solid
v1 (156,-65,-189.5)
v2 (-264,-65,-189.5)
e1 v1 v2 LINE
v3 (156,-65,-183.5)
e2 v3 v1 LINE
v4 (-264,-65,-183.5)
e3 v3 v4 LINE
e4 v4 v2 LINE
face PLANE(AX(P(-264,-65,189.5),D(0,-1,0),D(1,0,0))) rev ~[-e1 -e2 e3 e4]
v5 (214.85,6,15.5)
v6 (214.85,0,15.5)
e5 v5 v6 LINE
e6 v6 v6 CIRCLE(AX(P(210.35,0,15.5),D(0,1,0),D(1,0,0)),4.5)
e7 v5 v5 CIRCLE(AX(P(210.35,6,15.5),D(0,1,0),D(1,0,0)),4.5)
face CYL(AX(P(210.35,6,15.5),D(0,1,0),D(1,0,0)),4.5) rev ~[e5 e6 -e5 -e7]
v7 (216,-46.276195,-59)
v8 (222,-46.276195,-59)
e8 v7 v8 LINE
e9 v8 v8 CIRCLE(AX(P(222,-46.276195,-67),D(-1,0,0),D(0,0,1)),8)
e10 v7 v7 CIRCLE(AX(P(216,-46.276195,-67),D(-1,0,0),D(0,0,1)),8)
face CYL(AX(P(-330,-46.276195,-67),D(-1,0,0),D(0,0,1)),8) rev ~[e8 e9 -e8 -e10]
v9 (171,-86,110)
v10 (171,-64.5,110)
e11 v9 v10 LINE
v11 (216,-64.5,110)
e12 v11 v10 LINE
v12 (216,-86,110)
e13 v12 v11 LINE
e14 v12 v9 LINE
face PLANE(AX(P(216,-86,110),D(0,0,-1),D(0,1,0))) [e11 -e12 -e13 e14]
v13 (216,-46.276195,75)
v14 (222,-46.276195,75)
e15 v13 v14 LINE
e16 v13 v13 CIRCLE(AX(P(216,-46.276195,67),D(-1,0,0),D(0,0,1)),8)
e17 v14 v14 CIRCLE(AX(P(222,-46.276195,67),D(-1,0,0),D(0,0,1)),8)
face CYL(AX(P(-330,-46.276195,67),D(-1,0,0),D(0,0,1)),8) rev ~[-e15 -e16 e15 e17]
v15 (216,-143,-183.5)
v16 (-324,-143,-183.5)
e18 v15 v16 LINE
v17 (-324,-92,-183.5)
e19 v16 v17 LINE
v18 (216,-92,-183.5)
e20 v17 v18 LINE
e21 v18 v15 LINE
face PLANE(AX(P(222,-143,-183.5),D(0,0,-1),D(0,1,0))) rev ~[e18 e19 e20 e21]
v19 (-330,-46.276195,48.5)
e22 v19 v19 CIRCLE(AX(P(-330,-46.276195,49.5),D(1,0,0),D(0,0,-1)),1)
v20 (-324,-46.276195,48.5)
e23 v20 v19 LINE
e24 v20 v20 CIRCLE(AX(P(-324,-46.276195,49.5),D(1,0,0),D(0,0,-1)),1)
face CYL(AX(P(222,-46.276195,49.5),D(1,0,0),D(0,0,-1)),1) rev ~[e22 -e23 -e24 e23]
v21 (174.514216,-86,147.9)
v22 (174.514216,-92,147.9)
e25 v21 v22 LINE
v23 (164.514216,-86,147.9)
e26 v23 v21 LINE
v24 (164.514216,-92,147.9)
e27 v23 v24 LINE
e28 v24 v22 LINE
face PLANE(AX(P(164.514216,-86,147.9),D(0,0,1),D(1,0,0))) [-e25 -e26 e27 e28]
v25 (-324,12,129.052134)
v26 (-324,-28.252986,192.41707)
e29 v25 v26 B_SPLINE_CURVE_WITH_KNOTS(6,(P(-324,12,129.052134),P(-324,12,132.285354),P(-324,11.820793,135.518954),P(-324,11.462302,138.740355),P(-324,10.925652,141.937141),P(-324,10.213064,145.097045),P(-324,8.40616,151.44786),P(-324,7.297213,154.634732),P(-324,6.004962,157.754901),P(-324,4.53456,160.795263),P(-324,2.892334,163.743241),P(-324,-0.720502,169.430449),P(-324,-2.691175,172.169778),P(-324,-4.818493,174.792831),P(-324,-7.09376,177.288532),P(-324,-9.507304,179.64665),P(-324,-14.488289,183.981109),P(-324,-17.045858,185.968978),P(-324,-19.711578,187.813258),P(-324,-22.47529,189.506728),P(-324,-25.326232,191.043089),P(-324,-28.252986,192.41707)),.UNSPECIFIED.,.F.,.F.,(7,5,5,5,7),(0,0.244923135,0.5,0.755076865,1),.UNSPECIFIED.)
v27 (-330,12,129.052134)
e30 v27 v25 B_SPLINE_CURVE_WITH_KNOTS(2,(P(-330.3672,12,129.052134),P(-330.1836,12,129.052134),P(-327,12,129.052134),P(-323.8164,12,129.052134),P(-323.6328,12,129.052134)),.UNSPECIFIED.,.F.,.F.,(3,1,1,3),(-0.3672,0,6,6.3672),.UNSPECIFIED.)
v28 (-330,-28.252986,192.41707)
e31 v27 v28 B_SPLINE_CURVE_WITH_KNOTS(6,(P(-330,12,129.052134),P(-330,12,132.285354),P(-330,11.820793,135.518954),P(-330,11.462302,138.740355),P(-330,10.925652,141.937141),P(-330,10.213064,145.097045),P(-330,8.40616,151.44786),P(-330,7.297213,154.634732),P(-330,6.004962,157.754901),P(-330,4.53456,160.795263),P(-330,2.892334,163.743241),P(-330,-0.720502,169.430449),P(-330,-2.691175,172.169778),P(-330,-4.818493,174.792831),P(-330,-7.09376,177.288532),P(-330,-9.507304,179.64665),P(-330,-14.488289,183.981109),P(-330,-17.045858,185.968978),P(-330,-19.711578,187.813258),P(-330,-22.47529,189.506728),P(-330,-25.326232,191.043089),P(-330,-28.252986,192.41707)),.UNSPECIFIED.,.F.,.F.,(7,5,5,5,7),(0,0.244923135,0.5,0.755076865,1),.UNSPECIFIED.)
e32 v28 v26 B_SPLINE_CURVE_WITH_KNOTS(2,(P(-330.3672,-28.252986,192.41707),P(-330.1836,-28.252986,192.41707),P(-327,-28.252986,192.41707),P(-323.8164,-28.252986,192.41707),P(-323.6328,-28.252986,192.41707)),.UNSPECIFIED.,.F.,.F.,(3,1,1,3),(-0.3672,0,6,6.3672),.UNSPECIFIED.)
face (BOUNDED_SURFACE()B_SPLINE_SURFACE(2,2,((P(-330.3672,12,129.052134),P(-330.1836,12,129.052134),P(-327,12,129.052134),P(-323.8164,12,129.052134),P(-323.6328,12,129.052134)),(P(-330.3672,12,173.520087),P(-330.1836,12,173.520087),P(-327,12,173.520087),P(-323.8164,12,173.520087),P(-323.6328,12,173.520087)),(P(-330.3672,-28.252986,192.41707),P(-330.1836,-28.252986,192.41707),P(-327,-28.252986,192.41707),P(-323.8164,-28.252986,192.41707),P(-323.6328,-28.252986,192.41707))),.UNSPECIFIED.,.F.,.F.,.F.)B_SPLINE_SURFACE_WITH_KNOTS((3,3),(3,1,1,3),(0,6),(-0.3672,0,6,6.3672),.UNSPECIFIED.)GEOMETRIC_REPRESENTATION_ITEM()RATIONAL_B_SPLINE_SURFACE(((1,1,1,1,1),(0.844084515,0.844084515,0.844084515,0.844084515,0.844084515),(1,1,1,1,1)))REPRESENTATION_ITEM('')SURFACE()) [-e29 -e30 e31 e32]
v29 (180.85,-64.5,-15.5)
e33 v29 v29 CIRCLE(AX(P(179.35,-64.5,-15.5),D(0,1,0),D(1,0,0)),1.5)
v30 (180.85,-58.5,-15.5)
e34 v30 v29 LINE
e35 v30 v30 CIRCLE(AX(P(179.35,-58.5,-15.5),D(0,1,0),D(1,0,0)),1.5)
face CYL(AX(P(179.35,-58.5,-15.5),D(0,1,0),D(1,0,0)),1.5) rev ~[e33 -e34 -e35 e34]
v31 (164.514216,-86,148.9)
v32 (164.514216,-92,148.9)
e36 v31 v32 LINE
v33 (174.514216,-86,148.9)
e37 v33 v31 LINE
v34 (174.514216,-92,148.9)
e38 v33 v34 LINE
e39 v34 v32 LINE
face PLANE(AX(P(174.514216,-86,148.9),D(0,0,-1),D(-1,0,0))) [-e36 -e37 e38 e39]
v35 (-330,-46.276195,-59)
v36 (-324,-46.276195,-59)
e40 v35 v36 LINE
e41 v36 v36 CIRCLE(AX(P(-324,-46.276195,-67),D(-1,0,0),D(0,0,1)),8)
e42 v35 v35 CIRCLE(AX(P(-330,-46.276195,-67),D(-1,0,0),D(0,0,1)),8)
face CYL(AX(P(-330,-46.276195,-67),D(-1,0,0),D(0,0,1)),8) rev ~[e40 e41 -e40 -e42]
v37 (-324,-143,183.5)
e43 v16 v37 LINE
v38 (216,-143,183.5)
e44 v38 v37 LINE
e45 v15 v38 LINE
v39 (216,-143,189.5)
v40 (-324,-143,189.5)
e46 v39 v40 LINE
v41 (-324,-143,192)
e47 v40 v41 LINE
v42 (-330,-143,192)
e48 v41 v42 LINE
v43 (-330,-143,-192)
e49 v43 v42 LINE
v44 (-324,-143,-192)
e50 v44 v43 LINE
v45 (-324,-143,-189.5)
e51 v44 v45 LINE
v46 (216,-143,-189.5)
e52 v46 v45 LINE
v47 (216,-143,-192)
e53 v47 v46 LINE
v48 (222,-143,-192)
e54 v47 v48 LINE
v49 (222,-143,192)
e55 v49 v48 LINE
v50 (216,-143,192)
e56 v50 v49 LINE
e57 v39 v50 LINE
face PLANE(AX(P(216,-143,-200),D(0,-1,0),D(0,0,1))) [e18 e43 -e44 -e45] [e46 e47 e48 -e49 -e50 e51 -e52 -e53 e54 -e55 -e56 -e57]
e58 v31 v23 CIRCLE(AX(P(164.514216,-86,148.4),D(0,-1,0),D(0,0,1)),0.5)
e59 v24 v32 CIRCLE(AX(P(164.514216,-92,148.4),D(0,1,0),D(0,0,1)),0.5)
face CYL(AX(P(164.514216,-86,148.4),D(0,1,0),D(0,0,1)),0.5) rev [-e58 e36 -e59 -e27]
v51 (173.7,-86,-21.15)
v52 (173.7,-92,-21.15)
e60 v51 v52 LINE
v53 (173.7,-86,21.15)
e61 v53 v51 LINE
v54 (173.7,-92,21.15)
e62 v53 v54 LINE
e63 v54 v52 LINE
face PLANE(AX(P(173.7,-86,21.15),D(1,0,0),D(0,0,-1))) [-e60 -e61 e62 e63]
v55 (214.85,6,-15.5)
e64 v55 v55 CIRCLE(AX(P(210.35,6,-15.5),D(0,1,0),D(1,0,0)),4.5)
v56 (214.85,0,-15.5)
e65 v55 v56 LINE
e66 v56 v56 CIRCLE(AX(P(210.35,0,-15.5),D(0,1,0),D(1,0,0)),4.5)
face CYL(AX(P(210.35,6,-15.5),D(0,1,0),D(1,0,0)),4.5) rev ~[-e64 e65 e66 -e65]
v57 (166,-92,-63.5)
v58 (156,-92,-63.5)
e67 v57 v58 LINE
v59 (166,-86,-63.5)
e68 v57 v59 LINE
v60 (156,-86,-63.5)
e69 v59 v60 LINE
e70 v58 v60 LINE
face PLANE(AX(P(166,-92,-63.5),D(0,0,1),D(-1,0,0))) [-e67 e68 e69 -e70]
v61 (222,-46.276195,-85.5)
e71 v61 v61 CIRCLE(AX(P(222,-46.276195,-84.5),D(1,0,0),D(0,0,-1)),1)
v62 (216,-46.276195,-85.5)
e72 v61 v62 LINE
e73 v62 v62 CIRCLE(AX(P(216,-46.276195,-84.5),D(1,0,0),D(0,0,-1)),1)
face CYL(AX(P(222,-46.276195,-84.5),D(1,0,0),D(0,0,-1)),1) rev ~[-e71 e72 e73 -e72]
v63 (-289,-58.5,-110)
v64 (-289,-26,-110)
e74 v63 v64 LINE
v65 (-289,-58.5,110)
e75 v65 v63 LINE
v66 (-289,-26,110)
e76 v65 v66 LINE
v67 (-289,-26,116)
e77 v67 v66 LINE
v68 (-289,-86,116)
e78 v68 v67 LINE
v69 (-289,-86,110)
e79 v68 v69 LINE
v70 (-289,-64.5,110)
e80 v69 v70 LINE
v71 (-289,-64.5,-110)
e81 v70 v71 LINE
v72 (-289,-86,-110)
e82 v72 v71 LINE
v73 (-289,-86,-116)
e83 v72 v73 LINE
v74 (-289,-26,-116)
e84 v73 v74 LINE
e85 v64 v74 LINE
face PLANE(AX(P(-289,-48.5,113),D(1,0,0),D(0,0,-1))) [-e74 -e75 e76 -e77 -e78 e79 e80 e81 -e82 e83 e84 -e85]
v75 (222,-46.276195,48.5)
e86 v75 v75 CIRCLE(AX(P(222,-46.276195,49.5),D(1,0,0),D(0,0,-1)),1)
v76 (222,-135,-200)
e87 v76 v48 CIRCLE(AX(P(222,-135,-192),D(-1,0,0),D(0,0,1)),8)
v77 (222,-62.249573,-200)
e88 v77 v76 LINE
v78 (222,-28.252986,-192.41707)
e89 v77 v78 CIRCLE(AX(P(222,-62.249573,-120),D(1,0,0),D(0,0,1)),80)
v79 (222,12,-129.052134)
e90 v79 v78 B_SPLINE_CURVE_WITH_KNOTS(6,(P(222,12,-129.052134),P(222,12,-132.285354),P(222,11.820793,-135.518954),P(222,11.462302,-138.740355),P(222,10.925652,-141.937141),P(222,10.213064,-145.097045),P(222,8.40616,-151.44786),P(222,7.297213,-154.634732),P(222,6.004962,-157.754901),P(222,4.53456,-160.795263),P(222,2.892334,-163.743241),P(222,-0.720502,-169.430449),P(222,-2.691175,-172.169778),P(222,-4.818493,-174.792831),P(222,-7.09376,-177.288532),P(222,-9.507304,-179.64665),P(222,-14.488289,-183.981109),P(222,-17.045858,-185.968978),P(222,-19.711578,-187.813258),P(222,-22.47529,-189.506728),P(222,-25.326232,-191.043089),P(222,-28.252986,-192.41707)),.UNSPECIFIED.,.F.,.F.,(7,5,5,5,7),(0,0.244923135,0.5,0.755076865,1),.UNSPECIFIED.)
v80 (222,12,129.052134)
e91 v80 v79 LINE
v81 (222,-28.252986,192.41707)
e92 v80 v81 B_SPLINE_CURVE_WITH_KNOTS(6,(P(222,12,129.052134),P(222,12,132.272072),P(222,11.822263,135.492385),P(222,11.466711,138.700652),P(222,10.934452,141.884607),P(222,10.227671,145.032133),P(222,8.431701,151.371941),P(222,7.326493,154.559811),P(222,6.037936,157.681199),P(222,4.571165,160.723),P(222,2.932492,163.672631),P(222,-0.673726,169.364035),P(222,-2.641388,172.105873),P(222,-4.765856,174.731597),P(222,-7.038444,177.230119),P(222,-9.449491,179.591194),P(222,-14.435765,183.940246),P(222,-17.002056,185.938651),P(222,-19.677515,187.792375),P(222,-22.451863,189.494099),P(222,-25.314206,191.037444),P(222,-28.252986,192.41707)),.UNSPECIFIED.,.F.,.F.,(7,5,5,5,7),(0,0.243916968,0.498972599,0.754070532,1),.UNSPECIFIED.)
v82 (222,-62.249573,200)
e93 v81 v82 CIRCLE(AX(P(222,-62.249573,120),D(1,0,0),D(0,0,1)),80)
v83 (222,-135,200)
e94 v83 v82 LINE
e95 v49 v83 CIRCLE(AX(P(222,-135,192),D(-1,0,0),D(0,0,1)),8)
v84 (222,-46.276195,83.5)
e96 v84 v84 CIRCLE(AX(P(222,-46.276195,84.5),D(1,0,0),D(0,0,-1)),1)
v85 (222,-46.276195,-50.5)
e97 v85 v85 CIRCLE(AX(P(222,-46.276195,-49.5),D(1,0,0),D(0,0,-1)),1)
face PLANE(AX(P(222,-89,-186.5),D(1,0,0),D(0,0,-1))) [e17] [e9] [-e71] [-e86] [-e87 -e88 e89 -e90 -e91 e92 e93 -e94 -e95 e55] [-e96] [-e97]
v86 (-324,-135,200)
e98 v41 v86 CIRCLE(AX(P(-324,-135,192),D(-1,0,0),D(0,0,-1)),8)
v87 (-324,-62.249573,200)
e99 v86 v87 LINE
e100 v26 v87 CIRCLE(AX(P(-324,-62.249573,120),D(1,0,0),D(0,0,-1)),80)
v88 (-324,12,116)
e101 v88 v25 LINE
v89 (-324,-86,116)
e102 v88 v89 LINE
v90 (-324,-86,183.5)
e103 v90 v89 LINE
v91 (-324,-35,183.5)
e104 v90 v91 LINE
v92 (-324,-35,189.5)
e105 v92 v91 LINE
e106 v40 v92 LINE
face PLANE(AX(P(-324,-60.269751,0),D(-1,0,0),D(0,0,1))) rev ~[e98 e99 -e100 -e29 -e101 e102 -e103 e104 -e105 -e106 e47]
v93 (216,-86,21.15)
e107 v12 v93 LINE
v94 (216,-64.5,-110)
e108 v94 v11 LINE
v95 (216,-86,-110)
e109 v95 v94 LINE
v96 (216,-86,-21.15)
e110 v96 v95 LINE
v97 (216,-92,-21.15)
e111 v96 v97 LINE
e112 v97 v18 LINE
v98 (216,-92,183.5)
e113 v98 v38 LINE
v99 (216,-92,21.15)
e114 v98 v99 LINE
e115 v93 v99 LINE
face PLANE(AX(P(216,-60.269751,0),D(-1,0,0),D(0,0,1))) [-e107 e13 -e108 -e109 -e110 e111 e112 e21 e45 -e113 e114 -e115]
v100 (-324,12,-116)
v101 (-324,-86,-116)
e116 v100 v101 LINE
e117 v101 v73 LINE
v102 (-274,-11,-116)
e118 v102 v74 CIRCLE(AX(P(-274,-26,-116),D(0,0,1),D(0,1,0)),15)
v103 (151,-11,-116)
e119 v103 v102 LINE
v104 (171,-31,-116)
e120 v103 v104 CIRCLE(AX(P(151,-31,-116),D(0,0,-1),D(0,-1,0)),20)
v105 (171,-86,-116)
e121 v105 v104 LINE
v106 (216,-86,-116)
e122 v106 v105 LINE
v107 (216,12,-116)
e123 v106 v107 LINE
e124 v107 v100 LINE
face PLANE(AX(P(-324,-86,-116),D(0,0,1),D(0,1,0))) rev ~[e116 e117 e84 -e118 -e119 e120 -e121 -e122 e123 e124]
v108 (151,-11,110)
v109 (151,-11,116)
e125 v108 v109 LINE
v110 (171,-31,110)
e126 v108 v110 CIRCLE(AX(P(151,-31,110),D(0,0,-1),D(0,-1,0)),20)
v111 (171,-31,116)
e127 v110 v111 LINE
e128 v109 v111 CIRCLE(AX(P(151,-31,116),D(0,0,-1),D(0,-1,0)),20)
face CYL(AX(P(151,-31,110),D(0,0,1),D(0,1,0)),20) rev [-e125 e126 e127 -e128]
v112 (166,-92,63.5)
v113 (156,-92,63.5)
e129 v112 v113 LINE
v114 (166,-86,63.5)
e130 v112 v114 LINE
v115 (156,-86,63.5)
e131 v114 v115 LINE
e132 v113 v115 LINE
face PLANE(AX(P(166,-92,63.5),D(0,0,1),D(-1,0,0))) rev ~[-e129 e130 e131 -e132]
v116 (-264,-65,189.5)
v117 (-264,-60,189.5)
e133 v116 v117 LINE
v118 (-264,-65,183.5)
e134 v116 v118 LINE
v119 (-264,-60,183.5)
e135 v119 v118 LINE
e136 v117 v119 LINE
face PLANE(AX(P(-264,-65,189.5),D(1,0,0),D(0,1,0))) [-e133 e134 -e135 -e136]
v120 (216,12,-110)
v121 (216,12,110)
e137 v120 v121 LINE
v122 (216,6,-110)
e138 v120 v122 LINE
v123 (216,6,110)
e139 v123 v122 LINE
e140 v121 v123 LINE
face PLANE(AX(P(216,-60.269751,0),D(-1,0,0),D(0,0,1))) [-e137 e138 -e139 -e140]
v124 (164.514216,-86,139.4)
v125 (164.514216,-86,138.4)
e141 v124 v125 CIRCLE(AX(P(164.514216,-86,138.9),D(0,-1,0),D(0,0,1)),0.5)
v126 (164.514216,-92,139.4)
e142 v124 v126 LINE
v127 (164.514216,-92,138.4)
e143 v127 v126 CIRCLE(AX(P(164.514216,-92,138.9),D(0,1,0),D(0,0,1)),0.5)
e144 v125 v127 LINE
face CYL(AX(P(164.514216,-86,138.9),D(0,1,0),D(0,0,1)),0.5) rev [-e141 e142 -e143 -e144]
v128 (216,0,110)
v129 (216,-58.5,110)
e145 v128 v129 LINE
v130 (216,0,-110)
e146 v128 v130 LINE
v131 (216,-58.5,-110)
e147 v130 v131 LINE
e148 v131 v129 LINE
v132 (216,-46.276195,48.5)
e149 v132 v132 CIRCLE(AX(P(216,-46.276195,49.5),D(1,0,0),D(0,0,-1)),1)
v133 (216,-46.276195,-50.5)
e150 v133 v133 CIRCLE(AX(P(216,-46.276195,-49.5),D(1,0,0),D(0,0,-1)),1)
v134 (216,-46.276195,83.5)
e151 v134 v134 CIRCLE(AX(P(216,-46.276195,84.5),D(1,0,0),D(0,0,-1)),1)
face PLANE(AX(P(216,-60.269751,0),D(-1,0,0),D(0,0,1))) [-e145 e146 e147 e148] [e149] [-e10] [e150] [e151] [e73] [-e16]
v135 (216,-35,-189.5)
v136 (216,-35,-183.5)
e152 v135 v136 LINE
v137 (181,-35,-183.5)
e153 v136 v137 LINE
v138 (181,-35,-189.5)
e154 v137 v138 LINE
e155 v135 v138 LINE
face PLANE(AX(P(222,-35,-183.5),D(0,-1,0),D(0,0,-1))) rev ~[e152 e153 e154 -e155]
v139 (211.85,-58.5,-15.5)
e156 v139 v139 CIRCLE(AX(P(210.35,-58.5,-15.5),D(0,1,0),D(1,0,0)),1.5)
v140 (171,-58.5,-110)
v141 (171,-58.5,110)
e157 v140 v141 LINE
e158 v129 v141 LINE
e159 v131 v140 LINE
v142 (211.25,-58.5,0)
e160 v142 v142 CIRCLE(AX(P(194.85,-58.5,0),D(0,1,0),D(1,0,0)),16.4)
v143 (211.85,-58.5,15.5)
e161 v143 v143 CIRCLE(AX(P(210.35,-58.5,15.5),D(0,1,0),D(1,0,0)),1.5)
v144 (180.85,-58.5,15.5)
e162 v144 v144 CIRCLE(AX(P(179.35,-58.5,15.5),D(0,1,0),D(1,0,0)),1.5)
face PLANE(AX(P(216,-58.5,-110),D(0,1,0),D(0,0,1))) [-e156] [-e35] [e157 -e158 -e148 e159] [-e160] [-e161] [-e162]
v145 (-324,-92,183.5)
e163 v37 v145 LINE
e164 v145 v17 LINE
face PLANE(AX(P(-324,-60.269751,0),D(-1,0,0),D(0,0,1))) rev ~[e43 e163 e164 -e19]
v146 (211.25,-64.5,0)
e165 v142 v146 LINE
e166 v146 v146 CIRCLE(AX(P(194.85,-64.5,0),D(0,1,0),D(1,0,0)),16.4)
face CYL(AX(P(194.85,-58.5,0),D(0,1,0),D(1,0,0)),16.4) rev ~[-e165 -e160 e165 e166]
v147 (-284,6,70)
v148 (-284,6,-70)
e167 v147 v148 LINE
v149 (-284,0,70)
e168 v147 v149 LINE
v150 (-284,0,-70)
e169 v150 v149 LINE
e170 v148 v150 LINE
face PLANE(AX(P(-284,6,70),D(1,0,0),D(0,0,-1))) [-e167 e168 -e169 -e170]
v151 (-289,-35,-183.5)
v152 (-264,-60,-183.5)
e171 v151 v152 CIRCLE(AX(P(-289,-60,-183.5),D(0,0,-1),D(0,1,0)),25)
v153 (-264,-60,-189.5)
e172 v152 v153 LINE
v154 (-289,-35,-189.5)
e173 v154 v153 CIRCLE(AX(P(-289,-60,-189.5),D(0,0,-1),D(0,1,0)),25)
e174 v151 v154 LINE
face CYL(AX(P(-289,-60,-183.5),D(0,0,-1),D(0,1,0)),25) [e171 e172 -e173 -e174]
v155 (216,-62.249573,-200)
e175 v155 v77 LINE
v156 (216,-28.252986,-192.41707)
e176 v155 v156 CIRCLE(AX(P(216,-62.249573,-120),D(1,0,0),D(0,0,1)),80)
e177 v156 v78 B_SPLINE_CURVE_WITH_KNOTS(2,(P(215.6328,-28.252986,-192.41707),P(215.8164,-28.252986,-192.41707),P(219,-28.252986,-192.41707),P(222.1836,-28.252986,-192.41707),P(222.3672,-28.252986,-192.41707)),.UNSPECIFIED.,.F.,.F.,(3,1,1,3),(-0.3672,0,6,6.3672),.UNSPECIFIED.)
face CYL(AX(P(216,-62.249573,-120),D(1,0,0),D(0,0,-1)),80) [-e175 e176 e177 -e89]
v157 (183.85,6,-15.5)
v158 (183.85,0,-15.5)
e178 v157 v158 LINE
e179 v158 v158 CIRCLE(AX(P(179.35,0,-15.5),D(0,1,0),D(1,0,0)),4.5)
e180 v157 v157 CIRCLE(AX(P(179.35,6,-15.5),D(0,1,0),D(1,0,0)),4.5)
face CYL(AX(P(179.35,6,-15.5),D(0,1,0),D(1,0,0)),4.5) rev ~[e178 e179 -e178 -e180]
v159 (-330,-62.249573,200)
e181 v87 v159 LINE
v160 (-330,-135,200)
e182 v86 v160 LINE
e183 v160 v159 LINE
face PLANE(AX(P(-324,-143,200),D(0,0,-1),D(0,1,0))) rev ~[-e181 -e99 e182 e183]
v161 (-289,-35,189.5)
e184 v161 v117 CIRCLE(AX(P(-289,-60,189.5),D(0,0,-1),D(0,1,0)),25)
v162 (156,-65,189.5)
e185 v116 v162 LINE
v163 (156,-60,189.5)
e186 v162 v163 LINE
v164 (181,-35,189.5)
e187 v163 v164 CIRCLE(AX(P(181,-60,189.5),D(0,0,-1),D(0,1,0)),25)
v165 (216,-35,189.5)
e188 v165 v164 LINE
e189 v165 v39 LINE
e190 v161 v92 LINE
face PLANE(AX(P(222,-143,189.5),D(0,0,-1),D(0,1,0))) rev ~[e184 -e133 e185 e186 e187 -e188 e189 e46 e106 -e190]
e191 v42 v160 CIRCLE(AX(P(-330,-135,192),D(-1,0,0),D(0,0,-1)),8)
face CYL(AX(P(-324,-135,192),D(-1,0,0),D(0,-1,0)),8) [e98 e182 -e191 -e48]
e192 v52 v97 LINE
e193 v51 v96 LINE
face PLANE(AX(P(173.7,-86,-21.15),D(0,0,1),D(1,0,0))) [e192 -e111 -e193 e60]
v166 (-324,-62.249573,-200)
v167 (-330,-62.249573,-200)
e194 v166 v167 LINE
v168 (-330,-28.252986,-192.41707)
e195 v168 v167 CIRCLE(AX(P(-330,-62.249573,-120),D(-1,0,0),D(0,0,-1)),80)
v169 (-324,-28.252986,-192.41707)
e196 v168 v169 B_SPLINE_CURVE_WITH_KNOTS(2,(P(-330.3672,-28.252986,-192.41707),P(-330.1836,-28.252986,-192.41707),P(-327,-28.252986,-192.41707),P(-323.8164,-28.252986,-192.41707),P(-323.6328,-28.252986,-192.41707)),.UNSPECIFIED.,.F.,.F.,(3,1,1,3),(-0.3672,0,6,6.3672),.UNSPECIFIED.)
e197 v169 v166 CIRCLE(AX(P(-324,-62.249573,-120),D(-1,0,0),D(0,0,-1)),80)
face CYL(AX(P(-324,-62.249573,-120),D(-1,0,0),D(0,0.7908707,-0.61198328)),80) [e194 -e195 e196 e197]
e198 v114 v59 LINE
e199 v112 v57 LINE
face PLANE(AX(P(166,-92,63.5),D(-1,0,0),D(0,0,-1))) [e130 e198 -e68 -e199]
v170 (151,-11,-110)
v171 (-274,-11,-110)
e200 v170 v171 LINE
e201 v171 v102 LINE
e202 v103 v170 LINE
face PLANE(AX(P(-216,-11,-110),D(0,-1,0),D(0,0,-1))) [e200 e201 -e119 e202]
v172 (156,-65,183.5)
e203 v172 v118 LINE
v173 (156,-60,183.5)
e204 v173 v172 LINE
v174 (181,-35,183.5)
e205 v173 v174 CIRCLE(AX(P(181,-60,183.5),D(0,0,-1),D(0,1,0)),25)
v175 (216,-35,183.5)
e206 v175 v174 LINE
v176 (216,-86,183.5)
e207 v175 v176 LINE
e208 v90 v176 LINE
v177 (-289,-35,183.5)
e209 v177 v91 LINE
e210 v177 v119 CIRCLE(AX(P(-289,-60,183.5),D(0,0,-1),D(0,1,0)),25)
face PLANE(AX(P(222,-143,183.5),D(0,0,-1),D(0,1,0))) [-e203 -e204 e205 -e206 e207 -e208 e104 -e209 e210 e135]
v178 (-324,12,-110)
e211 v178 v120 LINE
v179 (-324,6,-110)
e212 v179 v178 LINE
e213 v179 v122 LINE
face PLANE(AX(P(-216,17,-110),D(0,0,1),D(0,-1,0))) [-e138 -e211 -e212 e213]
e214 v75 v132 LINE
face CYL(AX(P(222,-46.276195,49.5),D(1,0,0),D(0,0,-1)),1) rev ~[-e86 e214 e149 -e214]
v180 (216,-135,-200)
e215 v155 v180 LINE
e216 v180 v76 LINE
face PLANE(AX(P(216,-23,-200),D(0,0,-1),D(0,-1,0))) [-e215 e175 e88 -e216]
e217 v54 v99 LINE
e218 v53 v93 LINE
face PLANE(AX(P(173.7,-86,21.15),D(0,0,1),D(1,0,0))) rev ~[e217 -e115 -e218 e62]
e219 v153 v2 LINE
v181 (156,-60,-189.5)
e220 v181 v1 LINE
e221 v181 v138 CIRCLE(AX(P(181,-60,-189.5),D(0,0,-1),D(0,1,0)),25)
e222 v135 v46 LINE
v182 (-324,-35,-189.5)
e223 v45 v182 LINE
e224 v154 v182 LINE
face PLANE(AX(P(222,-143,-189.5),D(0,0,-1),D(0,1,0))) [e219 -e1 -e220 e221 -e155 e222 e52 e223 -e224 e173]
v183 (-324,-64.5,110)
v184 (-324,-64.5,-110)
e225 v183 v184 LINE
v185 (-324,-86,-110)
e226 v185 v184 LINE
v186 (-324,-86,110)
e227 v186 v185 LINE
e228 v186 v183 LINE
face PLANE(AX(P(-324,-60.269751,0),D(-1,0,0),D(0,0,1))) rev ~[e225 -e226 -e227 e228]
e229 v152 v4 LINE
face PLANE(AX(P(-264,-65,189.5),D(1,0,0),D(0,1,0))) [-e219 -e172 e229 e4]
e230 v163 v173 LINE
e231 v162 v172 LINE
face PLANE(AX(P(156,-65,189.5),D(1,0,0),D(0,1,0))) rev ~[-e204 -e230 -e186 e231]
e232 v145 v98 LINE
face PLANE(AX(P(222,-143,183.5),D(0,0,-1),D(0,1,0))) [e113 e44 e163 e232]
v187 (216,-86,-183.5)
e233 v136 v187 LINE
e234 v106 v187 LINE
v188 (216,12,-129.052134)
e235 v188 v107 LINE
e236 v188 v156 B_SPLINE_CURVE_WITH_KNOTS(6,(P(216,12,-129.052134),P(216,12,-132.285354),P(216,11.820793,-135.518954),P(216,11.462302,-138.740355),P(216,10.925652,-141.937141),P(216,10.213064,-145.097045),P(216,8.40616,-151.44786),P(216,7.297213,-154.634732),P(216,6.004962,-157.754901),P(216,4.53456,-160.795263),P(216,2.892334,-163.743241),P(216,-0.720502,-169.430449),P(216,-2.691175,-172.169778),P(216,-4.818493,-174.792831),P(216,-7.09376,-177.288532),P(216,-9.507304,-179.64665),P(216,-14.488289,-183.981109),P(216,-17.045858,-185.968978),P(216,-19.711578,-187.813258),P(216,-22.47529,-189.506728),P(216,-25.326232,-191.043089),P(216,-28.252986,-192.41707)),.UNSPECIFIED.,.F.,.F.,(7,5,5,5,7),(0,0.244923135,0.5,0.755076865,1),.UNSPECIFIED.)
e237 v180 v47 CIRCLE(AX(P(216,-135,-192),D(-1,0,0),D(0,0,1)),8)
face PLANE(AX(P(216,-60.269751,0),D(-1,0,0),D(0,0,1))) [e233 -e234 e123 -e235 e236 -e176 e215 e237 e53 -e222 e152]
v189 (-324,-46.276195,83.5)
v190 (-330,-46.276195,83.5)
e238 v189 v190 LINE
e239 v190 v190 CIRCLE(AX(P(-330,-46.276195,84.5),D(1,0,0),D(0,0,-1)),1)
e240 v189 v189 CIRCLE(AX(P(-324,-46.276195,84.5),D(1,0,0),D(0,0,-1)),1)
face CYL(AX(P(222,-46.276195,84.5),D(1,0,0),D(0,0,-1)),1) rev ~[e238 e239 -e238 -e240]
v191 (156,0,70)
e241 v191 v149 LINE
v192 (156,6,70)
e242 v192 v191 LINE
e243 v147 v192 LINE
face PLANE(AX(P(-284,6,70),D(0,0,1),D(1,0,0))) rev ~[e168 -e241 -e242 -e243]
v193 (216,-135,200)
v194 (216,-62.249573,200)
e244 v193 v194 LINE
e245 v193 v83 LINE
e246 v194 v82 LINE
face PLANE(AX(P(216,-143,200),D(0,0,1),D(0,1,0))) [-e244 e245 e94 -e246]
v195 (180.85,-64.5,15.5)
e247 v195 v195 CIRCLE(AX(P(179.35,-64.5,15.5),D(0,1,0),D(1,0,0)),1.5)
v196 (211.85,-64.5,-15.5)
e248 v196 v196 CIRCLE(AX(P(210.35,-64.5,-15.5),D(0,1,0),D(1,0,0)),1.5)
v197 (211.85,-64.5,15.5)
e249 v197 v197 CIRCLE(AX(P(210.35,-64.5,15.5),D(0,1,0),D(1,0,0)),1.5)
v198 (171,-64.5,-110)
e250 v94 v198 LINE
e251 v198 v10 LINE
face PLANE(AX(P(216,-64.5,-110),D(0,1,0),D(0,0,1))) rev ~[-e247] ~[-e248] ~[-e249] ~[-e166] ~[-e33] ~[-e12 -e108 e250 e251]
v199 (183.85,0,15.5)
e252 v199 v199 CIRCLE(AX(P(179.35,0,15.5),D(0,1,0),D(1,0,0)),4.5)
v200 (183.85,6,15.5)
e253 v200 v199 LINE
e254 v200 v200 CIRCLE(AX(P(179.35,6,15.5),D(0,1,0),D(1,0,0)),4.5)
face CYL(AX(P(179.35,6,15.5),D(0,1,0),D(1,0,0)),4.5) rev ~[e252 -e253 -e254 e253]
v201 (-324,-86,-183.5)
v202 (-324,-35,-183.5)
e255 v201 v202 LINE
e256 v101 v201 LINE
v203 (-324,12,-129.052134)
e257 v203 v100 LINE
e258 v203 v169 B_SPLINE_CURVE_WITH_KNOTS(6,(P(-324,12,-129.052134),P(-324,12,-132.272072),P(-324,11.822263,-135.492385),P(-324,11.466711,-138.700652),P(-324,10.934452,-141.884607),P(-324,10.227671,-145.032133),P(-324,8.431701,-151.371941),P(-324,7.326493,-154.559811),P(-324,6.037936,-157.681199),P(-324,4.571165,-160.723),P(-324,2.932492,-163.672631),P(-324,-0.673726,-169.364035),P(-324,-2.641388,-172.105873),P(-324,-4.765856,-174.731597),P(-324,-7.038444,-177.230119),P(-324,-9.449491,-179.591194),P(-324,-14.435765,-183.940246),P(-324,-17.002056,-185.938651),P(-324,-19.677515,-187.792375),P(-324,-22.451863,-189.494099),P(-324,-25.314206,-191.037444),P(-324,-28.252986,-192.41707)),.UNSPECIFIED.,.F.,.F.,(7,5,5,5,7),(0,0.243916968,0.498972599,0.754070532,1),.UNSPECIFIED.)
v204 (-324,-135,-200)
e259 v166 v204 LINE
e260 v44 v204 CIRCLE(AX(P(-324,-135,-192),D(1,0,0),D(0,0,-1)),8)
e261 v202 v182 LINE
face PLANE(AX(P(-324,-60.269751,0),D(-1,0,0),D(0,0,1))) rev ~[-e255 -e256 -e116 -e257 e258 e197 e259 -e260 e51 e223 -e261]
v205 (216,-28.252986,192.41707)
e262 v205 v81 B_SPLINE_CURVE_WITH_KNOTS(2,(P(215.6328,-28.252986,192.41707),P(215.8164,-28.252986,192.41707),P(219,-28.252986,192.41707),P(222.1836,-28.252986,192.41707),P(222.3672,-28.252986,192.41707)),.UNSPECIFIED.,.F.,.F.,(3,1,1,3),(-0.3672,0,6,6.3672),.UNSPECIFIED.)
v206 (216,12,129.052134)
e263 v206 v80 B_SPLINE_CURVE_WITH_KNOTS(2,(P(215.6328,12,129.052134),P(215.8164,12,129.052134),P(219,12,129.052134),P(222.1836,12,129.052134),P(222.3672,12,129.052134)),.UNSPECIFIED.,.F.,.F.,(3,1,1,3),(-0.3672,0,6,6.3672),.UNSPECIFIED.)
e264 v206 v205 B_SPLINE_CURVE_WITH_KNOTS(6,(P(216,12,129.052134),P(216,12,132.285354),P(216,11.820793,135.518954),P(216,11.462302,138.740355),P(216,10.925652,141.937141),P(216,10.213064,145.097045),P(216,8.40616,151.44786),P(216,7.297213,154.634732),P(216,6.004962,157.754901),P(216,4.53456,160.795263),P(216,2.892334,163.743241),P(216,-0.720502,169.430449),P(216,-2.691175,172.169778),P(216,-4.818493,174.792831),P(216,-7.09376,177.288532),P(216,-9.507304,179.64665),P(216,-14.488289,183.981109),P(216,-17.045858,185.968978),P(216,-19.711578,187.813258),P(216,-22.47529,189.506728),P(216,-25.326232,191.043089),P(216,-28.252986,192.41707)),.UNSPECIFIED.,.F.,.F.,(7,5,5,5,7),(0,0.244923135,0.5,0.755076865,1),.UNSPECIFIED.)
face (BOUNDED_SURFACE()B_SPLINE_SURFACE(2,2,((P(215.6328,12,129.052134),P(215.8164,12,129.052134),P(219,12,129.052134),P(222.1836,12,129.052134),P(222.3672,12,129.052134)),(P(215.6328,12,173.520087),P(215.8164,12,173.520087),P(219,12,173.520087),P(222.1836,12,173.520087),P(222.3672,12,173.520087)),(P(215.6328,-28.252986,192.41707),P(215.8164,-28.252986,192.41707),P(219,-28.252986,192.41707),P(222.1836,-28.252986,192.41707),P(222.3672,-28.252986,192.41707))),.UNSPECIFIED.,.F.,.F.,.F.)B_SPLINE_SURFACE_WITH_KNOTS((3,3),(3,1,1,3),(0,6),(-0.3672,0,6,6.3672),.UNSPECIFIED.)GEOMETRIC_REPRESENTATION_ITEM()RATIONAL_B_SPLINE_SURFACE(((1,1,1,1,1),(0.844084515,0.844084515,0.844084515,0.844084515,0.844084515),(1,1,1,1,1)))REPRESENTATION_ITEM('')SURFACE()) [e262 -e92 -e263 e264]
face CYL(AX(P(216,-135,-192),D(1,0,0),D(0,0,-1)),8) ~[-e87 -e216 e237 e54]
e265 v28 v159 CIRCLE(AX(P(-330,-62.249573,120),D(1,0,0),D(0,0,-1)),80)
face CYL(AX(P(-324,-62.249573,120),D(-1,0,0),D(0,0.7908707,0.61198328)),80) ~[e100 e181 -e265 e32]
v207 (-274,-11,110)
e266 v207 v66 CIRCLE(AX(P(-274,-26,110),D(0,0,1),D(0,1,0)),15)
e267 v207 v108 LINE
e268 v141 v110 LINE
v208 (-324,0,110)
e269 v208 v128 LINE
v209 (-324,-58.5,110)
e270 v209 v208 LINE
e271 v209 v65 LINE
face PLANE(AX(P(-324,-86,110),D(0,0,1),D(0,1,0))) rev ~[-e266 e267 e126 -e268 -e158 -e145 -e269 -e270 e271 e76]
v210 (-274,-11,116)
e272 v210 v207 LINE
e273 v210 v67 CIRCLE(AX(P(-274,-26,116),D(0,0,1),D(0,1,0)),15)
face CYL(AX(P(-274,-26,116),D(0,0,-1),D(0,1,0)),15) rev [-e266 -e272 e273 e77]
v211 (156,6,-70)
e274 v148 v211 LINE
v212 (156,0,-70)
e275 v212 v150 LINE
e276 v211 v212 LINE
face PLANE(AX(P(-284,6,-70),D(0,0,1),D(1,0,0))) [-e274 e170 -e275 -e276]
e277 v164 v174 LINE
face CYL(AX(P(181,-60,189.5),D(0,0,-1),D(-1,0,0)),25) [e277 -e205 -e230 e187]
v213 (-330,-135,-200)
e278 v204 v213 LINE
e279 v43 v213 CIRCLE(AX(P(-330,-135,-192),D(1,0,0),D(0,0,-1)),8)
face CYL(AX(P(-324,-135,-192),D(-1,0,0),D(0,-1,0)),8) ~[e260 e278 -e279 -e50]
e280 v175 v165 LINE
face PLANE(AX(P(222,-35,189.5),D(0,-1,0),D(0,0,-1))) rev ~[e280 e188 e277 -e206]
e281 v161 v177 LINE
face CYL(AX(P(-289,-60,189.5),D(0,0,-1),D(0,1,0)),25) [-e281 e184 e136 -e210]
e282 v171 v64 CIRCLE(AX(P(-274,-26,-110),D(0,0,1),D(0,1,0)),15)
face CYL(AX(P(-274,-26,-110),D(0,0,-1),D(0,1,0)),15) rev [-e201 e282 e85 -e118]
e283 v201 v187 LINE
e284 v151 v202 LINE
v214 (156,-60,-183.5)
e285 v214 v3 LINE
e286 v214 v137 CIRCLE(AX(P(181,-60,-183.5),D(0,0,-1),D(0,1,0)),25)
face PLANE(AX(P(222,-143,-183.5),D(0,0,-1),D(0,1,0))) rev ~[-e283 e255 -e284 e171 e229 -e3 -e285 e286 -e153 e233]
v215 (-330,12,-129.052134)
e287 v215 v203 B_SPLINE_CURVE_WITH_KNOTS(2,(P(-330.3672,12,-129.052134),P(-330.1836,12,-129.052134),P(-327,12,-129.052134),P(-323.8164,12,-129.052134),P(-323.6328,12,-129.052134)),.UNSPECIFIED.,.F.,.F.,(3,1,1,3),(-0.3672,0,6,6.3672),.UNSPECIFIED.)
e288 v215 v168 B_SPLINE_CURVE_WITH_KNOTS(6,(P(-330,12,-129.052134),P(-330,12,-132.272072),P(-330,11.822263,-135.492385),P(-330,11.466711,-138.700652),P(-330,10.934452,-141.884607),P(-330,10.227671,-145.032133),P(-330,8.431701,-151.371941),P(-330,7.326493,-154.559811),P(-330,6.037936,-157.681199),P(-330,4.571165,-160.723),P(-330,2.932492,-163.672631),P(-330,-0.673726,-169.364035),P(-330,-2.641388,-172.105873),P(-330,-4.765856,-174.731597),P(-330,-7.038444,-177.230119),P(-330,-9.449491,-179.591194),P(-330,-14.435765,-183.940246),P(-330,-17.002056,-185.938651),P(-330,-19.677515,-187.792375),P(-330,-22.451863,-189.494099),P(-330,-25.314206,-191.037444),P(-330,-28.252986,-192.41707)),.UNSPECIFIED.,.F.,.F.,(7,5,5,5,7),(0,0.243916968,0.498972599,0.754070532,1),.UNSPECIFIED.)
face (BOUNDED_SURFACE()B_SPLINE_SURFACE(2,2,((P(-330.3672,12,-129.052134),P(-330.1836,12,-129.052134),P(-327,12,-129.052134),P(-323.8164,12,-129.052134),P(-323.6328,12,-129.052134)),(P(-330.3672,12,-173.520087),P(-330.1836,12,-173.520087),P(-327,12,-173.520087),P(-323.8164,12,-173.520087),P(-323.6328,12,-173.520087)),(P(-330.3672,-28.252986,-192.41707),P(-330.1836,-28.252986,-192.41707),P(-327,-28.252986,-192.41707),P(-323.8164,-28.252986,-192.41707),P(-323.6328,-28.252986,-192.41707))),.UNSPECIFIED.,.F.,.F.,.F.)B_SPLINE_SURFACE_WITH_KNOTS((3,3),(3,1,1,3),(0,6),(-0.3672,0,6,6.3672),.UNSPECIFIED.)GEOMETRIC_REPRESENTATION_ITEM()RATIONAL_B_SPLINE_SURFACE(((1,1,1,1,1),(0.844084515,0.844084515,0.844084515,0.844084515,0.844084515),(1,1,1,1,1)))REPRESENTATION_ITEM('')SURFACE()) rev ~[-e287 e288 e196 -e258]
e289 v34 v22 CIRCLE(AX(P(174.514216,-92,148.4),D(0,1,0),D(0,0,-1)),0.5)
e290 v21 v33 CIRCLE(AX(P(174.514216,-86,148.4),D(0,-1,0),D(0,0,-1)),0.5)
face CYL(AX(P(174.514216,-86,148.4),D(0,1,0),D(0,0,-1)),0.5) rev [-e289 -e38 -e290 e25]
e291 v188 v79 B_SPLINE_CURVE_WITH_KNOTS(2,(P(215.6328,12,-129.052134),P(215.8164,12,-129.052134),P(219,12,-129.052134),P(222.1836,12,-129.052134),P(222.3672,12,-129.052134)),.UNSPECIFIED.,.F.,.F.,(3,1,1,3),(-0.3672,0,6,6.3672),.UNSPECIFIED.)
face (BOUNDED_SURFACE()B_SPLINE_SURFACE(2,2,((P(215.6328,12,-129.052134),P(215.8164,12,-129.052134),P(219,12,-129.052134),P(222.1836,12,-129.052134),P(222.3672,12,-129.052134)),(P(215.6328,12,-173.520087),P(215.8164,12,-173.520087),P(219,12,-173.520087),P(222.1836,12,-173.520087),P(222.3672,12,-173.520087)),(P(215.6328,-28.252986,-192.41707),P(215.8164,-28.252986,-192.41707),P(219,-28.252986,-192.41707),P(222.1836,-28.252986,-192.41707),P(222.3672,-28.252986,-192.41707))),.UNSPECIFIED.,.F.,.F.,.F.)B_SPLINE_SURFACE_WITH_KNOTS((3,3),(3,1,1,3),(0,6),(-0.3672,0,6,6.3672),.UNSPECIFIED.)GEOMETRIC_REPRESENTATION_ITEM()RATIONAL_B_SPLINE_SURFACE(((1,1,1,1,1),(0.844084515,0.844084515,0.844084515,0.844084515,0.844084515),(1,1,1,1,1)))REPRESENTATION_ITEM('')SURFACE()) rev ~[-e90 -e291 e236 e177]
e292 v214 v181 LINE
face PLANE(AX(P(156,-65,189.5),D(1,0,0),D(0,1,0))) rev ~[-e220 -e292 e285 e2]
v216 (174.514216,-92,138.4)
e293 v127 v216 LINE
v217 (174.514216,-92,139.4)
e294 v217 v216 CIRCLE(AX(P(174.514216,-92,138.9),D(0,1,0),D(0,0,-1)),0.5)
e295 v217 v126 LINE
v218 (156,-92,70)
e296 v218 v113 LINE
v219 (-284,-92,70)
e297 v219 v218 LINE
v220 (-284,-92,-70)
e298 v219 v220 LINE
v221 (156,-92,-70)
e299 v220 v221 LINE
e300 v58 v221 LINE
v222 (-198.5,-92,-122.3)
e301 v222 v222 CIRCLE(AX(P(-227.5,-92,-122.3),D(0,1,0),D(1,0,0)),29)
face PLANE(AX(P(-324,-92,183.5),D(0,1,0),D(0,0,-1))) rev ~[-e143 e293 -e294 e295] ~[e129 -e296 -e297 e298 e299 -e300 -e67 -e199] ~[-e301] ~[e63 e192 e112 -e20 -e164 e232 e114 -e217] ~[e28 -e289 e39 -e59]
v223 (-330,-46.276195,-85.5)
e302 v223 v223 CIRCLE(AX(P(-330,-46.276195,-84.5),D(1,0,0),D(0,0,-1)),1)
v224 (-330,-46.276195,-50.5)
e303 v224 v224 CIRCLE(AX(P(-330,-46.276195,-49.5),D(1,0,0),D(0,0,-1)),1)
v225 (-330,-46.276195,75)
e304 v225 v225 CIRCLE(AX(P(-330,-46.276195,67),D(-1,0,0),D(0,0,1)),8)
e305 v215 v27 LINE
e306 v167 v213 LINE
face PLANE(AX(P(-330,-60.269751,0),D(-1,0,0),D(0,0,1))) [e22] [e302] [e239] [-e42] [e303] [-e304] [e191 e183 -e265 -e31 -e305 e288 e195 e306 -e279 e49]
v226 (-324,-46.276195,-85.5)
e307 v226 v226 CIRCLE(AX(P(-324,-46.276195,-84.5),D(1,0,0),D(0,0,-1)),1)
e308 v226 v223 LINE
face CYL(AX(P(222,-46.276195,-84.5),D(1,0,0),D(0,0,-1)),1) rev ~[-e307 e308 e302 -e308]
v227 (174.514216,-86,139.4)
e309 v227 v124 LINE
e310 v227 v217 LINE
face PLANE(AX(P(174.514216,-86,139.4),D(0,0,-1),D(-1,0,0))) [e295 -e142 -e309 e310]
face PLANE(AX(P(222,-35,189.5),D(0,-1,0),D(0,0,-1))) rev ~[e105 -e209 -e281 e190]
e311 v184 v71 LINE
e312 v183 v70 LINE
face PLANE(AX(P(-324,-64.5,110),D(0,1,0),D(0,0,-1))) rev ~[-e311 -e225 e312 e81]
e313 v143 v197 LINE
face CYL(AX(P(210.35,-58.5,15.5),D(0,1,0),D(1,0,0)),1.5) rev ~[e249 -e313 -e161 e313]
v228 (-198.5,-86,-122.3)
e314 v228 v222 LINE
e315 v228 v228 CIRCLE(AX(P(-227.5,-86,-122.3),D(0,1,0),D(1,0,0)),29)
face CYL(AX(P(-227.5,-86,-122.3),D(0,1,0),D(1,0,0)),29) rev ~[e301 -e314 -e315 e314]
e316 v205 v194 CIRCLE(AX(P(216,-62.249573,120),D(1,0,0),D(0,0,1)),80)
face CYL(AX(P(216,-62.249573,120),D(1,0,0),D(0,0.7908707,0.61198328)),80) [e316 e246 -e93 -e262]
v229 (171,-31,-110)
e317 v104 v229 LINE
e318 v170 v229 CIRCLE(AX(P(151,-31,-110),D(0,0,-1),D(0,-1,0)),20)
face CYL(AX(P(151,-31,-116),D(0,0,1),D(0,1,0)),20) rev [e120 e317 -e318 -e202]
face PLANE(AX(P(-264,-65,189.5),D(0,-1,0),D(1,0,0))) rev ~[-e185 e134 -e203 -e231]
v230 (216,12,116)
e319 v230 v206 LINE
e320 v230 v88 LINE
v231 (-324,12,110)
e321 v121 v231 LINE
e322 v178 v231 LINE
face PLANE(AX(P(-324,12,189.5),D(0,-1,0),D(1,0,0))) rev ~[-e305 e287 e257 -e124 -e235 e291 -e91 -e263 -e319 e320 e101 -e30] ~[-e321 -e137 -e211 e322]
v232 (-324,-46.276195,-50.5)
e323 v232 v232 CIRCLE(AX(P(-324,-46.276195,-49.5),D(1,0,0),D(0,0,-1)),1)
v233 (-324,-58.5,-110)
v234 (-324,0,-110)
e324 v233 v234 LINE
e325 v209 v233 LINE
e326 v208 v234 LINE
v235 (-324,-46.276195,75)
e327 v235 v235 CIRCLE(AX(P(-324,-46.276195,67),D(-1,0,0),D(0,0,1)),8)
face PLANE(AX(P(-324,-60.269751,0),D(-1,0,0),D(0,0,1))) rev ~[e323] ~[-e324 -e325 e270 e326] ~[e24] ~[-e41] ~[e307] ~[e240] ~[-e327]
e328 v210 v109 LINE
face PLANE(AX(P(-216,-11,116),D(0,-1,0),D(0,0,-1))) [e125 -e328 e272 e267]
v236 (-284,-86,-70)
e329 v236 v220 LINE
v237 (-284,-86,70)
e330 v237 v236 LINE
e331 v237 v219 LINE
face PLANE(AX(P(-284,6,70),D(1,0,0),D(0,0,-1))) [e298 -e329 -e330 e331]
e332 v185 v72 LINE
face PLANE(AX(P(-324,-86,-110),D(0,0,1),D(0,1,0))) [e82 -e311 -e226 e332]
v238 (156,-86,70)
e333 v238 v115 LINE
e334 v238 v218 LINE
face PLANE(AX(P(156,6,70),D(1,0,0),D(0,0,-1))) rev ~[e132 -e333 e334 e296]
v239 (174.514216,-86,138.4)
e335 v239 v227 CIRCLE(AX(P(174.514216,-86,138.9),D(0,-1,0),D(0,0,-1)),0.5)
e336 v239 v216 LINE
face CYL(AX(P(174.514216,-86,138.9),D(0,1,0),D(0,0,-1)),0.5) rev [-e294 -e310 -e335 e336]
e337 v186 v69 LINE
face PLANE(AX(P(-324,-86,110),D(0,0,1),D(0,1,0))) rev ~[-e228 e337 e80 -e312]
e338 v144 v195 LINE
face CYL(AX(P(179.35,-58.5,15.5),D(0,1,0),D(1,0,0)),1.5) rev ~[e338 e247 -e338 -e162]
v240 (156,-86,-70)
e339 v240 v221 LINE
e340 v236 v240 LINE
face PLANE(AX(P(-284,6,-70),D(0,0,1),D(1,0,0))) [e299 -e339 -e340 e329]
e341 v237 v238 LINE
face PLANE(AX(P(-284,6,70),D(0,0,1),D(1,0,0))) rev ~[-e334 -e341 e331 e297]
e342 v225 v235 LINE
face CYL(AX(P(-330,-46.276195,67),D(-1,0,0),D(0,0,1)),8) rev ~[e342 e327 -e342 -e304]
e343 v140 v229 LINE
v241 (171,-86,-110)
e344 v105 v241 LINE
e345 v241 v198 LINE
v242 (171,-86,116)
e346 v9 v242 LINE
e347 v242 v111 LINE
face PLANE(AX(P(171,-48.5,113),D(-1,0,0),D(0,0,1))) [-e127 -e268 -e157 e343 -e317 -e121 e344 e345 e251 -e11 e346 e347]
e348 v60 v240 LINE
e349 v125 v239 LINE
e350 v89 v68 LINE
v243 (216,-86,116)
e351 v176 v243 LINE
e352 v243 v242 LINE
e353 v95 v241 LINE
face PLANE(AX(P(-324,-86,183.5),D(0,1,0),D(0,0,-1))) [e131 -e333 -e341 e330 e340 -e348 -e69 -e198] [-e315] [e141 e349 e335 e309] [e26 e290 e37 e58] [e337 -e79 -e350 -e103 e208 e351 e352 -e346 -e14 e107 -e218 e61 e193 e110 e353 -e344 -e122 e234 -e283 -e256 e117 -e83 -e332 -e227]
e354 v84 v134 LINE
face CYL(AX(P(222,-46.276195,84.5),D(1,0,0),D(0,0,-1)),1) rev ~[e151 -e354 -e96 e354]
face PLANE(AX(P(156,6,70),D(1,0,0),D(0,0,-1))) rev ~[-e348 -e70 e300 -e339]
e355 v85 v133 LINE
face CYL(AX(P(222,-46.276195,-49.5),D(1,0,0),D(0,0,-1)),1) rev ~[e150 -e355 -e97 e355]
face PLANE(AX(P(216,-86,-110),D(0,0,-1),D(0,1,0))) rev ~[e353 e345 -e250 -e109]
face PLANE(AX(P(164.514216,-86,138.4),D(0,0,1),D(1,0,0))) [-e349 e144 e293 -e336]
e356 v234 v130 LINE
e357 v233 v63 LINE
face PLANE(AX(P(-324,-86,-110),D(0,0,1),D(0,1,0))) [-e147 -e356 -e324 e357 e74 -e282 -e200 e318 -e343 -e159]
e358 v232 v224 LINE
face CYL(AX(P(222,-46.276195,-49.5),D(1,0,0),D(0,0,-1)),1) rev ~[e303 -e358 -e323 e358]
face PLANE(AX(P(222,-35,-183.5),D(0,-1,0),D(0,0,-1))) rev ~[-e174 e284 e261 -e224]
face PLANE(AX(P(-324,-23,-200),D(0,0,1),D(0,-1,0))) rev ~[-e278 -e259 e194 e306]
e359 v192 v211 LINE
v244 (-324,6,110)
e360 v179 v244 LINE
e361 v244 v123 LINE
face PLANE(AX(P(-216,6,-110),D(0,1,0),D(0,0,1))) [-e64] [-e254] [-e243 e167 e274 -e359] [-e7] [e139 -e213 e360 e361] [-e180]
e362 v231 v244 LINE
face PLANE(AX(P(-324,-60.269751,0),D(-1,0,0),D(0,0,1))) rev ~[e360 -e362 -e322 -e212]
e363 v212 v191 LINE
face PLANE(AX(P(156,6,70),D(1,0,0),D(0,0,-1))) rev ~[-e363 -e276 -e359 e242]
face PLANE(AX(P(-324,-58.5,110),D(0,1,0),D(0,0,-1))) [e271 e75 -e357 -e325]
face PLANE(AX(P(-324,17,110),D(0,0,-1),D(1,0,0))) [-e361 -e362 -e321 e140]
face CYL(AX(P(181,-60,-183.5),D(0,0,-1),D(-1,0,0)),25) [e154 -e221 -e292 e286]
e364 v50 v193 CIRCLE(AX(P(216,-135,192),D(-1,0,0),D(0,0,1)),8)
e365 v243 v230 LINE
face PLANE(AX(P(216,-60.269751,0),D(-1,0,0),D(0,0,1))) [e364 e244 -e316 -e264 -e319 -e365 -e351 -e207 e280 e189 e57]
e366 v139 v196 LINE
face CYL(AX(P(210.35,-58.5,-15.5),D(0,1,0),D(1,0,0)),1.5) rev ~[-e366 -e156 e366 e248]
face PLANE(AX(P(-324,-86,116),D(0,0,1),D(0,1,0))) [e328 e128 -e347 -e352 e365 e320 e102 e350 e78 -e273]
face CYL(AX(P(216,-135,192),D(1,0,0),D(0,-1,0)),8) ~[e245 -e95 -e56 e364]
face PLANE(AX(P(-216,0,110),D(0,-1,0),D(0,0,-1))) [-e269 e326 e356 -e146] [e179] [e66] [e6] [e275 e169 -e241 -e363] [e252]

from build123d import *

# Parameters (mm, degrees)
SKETCH_2_W           = 432
SKETCH_2_H           = 220
EXTRUDE_2_DEPTH      = 6
SKETCH_4_W           = 6
SKETCH_4_H           = 28
EXTRUDE_3_DEPTH      = 432
EXTRUDE_4_DEPTH      = 108
SKETCH_6_W           = 540
SKETCH_6_H           = 6
EXTRUDE_5_DEPTH      = 25
EXTRUDE_6_DEPTH      = 6
EXTRUDE_7_DEPTH      = 6
SKETCH_9_W           = 367
SKETCH_9_H           = 6
EXTRUDE_8_DEPTH      = 540
SKETCH_10_R          = 8
CUT_EXTRUDE_1_DEPTH  = 553
SKETCH_11_W          = 6
SKETCH_11_H          = 108
EXTRUDE_9_DEPTH      = 546
SKETCH_12_W          = 70
SKETCH_12_H          = 127
SKETCH_12_W_2        = 195
CUT_EXTRUDE_2_DEPTH  = 6
SKETCH_13_R          = 29
SKETCH_13_W          = 42.3
SKETCH_13_H          = 42.3
CUT_EXTRUDE_3_DEPTH  = 10
SKETCH_14_W          = 220
SKETCH_14_H          = 6
EXTRUDE_10_DEPTH     = 45
SKETCH_15_R          = 16.4
SKETCH_15_R_2        = 1.5
CUT_EXTRUDE_4_DEPTH  = 6
SKETCH_16_R          = 4.5
CUT_EXTRUDE_5_DEPTH  = 6
FILLET_1_R           = 80
FILLET_2_R           = 8
SKETCH_18_W          = 6
SKETCH_18_H          = 75
EXTRUDE_11_DEPTH     = 45
SKETCH_19_W          = 420
SKETCH_19_H          = 30
SKETCH_19_W_2        = 540
CUT_EXTRUDE_8_DEPTH  = 390.5
FILLET_4_R           = 25
FILLET_6_R           = 20
SKETCH_20_W          = 6
SKETCH_20_H          = 75
EXTRUDE_12_DEPTH     = 35
FILLET_7_R           = 15
SKETCH_21_W          = 220
SKETCH_21_H          = 6
EXTRUDE_13_DEPTH     = 35
SKETCH_22_R          = 1
CUT_EXTRUDE_9_DEPTH  = 553
CUT_EXTRUDE_10_DEPTH = 58
SKETCH_24_W          = 440
SKETCH_24_H          = 140
CUT_EXTRUDE_11_DEPTH = 150
SKETCH_25_W          = 309.538461538
SKETCH_25_H          = 30
CUT_EXTRUDE_12_DEPTH = 553
FILLET_8_R           = 70


with BuildPart() as part:
    # Эскиз2 → Бобышка-Вытянуть2 (new body)
    with BuildSketch(Plane(origin=(0, 0, 0), x_dir=(1, 0, 0), z_dir=(0, 1, 0))):
        Rectangle(SKETCH_2_W, SKETCH_2_H)
    extrude(amount=EXTRUDE_2_DEPTH)

    # Эскиз4 → Бобышка-Вытянуть3 (add)
    with BuildSketch(Plane(origin=(216, 0, 0), x_dir=(0, 0, -1), z_dir=(1, 0, 0))):
        with Locations((-113, 3)):
            Rectangle(SKETCH_4_W, SKETCH_4_H)
        with Locations((113, 3)):
            Rectangle(SKETCH_4_W, SKETCH_4_H)
    extrude(amount=-EXTRUDE_3_DEPTH)

    # Эскиз5 → Бобышка-Вытянуть4 (add)
    with BuildSketch(Plane.ZY.offset(216)):
        Polygon((-116, 17), (-110, 17), (-110, 6), (110, 6), (110, 17), (116, 17), (116, -11), (110, -11), (110, 0), (-110, 0), (-110, -11), (-116, -11), align=None)
    extrude(amount=EXTRUDE_4_DEPTH)

    # Эскиз6 → Бобышка-Вытянуть5 (add)
    with BuildSketch(Plane(origin=(0, 17, 0), x_dir=(1, 0, 0), z_dir=(0, 1, 0))):
        with Locations((-54, -113)):
            Rectangle(SKETCH_6_W, SKETCH_6_H)
        with Locations((-54, 113)):
            Rectangle(SKETCH_6_W, SKETCH_6_H)
    extrude(amount=EXTRUDE_5_DEPTH)

    # Эскиз7 → Бобышка-Вытянуть6 (add)
    with BuildSketch(Plane(origin=(216, 0, 0), x_dir=(0, 0, -1), z_dir=(1, 0, 0))):
        Polygon((-200, -143), (-200, -23), (-116, 42), (116, 42), (200, -23), (200, -143), align=None)
    extrude(amount=EXTRUDE_6_DEPTH)

    # Эскиз8 → Бобышка-Вытянуть7 (add)
    with BuildSketch(Plane.ZY.offset(324)):
        Polygon((-116, 42), (-200, -23), (-200, -143), (200, -143), (200, -23), (116, 42), align=None)
    extrude(amount=EXTRUDE_7_DEPTH)

    # Эскиз9 → Бобышка-Вытянуть8 (add)
    with BuildSketch(Plane(origin=(-324, 0, 0), x_dir=(0, 0, -1), z_dir=(1, 0, 0))):
        with Locations((0, -89)):
            Rectangle(SKETCH_9_W, SKETCH_9_H)
    extrude(amount=EXTRUDE_8_DEPTH)

    # Эскиз10 → Вырез-Вытянуть1 (cut, through all)
    with BuildSketch(Plane.ZY.offset(330)):
        with Locations((67, -46.276194705)):
            Circle(SKETCH_10_R)
        with Locations((-67, -46.276194705)):
            Circle(SKETCH_10_R)
    extrude(amount=-CUT_EXTRUDE_1_DEPTH, mode=Mode.SUBTRACT)

    # Эскиз11 → Бобышка-Вытянуть9 (add)
    with BuildSketch(Plane(origin=(222, 0, 0), x_dir=(0, 0, -1), z_dir=(1, 0, 0))):
        with Locations((186.5, -89)):
            Rectangle(SKETCH_11_W, SKETCH_11_H)
        with Locations((-186.5, -89)):
            Rectangle(SKETCH_11_W, SKETCH_11_H)
    extrude(amount=-EXTRUDE_9_DEPTH)

    # Эскиз12 → Вырез-Вытянуть2 (cut)
    with BuildSketch(Plane(origin=(0, -92, 0), x_dir=(-1, 0, 0), z_dir=(0, -1, 0))):
        with Locations((234, 0)):
            Rectangle(SKETCH_12_W, SKETCH_12_H)
        with Locations((51.5, 0)):
            Rectangle(SKETCH_12_W_2, SKETCH_12_H)
        with Locations((-131, 0)):
            Rectangle(SKETCH_12_W, SKETCH_12_H)
    extrude(amount=-CUT_EXTRUDE_2_DEPTH, mode=Mode.SUBTRACT)

    # Эскиз13 → Вырез-Вытянуть3 (cut)
    with BuildSketch(Plane(origin=(0, -86, 0), x_dir=(1, 0, 0), z_dir=(0, 1, 0))):
        with Locations((-227.5, 122.3)):
            Circle(SKETCH_13_R)
        with Locations((194.85, 0)):
            Rectangle(SKETCH_13_W, SKETCH_13_H)
    extrude(amount=-CUT_EXTRUDE_3_DEPTH, mode=Mode.SUBTRACT)

    # Эскиз14 → Бобышка-Вытянуть10 (add)
    with BuildSketch(Plane.ZY.offset(-216)):
        with Locations((0, -61.5)):
            Rectangle(SKETCH_14_W, SKETCH_14_H)
    extrude(amount=EXTRUDE_10_DEPTH)

    # Эскиз15 → Вырез-Вытянуть4 (cut)
    with BuildSketch(Plane(origin=(0, -58.5, 0), x_dir=(1, 0, 0), z_dir=(0, 1, 0))):
        with Locations((194.85, 0)):
            Circle(SKETCH_15_R)
        with Locations((179.35, 15.5)):
            Circle(SKETCH_15_R_2)
        with Locations((210.35, 15.5)):
            Circle(SKETCH_15_R_2)
        with Locations((210.35, -15.5)):
            Circle(SKETCH_15_R_2)
        with Locations((179.35, -15.5)):
            Circle(SKETCH_15_R_2)
    extrude(amount=-CUT_EXTRUDE_4_DEPTH, mode=Mode.SUBTRACT)

    # Эскиз16 → Вырез-Вытянуть5 (cut)
    with BuildSketch(Plane(origin=(0, 6, 0), x_dir=(1, 0, 0), z_dir=(0, 1, 0))):
        with Locations((179.35, 15.5)):
            Circle(SKETCH_16_R)
        with Locations((210.35, 15.5)):
            Circle(SKETCH_16_R)
        with Locations((179.35, -15.5)):
            Circle(SKETCH_16_R)
        with Locations((210.35, -15.5)):
            Circle(SKETCH_16_R)
    extrude(amount=-CUT_EXTRUDE_5_DEPTH, mode=Mode.SUBTRACT)

    # Скругление1
    fillet_1_edges = [part.edges().sort_by_distance(p)[0] for p in [
        (219, -23, -200),
        (219, -23, 200),
        (-327, -23, -200),
        (-327, -23, 200),
    ]]
    fillet(fillet_1_edges, radius=FILLET_1_R)

    # Скругление2
    fillet_2_edges = [part.edges().sort_by_distance(p)[0] for p in [
        (219, -143, 200),
        (219, -143, -200),
        (-327, -143, -200),
        (-327, -143, 200),
    ]]
    fillet(fillet_2_edges, radius=FILLET_2_R)

    # Эскиз18 → Бобышка-Вытянуть11 (add)
    with BuildSketch(Plane.ZY.offset(-216)):
        with Locations((113, -48.5)):
            Rectangle(SKETCH_18_W, SKETCH_18_H)
        with Locations((-113, -48.5)):
            Rectangle(SKETCH_18_W, SKETCH_18_H)
    extrude(amount=EXTRUDE_11_DEPTH)

    # Эскиз19 → Вырез-Вытянуть8 (cut, through all)
    with BuildSketch(Plane.XY.offset(189.5)):
        with Locations((-54, -50)):
            Rectangle(SKETCH_19_W, SKETCH_19_H)
        with Locations((-54, 27)):
            Rectangle(SKETCH_19_W_2, SKETCH_19_H)
    extrude(amount=-CUT_EXTRUDE_8_DEPTH, mode=Mode.SUBTRACT)

    # Скругление4
    fillet_4_edges = [part.edges().sort_by_distance(p)[0] for p in [
        (-264, -35, -186.5),
        (156, -35, -186.5),
        (-264, -35, 186.5),
        (156, -35, 186.5),
    ]]
    fillet(fillet_4_edges, radius=FILLET_4_R)

    # Скругление6
    fillet_6_edges = [part.edges().sort_by_distance(p)[0] for p in [
        (171, -11, 113),
        (171, -11, -113),
    ]]
    fillet(fillet_6_edges, radius=FILLET_6_R)

    # Эскиз20 → Бобышка-Вытянуть12 (add)
    with BuildSketch(Plane(origin=(-324, 0, 0), x_dir=(0, 0, -1), z_dir=(1, 0, 0))):
        with Locations((-113, -48.5)):
            Rectangle(SKETCH_20_W, SKETCH_20_H)
        with Locations((113, -48.5)):
            Rectangle(SKETCH_20_W, SKETCH_20_H)
    extrude(amount=EXTRUDE_12_DEPTH)

    # Скругление7
    fillet_7_edges = [part.edges().sort_by_distance(p)[0] for p in [
        (-289, -11, 113),
        (-289, -11, -113),
    ]]
    fillet(fillet_7_edges, radius=FILLET_7_R)

    # Эскиз21 → Бобышка-Вытянуть13 (add)
    with BuildSketch(Plane(origin=(-324, 0, 0), x_dir=(0, 0, -1), z_dir=(1, 0, 0))):
        with Locations((0, -61.5)):
            Rectangle(SKETCH_21_W, SKETCH_21_H)
    extrude(amount=EXTRUDE_13_DEPTH)

    # Эскиз22 → Вырез-Вытянуть9 (cut, through all)
    with BuildSketch(Plane(origin=(222, 0, 0), x_dir=(0, 0, -1), z_dir=(1, 0, 0))):
        with Locations((84.5, -46.276194705)):
            Circle(SKETCH_22_R)
        with Locations((49.5, -46.276194705)):
            Circle(SKETCH_22_R)
        with Locations((-49.5, -46.276194705)):
            Circle(SKETCH_22_R)
        with Locations((-84.5, -46.276194705)):
            Circle(SKETCH_22_R)
    extrude(amount=-CUT_EXTRUDE_9_DEPTH, mode=Mode.SUBTRACT)

    # Эскиз23 → Вырез-Вытянуть10 (cut, through all)
    with BuildSketch(Plane(origin=(0, -86, 0), x_dir=(1, 0, 0), z_dir=(0, 1, 0))):
        with BuildLine():
            Line((174.514215804, -139.4), (164.514215804, -139.4))
            ThreePointArc((164.514215804, -139.4), (164.014215804, -138.9), (164.514215804, -138.4))
            Line((164.514215804, -138.4), (174.514215804, -138.4))
            ThreePointArc((174.514215804, -138.4), (175.014215804, -138.9), (174.514215804, -139.4))
        make_face()
        with BuildLine():
            Line((174.514215804, -148.9), (164.514215804, -148.9))
            ThreePointArc((164.514215804, -148.9), (164.014215804, -148.4), (164.514215804, -147.9))
            Line((164.514215804, -147.9), (174.514215804, -147.9))
            ThreePointArc((174.514215804, -147.9), (175.014215804, -148.4), (174.514215804, -148.9))
        make_face()
    extrude(amount=-CUT_EXTRUDE_10_DEPTH, mode=Mode.SUBTRACT)

    # Эскиз24 → Вырез-Вытянуть11 (cut, through all)
    with BuildSketch(Plane(origin=(0, 6, 0), x_dir=(1, 0, 0), z_dir=(0, 1, 0))):
        with Locations((-64, 0)):
            Rectangle(SKETCH_24_W, SKETCH_24_H)
    extrude(amount=-CUT_EXTRUDE_11_DEPTH, mode=Mode.SUBTRACT)

    # Эскиз25 → Вырез-Вытянуть12 (cut, through all)
    with BuildSketch(Plane.ZY.offset(330)):
        with Locations((0, 27)):
            Rectangle(SKETCH_25_W, SKETCH_25_H)
    extrude(amount=-CUT_EXTRUDE_12_DEPTH, mode=Mode.SUBTRACT)

    # Скругление8
    fillet_8_edges = [part.edges().sort_by_distance(p)[0] for p in [
        (-327, 12, 154.769230769),
        (-327, 12, -154.769230769),
        (219, 12, -154.769230769),
        (219, 12, 154.769230769),
    ]]
    fillet(fillet_8_edges, radius=FILLET_8_R)


solid = part.part
